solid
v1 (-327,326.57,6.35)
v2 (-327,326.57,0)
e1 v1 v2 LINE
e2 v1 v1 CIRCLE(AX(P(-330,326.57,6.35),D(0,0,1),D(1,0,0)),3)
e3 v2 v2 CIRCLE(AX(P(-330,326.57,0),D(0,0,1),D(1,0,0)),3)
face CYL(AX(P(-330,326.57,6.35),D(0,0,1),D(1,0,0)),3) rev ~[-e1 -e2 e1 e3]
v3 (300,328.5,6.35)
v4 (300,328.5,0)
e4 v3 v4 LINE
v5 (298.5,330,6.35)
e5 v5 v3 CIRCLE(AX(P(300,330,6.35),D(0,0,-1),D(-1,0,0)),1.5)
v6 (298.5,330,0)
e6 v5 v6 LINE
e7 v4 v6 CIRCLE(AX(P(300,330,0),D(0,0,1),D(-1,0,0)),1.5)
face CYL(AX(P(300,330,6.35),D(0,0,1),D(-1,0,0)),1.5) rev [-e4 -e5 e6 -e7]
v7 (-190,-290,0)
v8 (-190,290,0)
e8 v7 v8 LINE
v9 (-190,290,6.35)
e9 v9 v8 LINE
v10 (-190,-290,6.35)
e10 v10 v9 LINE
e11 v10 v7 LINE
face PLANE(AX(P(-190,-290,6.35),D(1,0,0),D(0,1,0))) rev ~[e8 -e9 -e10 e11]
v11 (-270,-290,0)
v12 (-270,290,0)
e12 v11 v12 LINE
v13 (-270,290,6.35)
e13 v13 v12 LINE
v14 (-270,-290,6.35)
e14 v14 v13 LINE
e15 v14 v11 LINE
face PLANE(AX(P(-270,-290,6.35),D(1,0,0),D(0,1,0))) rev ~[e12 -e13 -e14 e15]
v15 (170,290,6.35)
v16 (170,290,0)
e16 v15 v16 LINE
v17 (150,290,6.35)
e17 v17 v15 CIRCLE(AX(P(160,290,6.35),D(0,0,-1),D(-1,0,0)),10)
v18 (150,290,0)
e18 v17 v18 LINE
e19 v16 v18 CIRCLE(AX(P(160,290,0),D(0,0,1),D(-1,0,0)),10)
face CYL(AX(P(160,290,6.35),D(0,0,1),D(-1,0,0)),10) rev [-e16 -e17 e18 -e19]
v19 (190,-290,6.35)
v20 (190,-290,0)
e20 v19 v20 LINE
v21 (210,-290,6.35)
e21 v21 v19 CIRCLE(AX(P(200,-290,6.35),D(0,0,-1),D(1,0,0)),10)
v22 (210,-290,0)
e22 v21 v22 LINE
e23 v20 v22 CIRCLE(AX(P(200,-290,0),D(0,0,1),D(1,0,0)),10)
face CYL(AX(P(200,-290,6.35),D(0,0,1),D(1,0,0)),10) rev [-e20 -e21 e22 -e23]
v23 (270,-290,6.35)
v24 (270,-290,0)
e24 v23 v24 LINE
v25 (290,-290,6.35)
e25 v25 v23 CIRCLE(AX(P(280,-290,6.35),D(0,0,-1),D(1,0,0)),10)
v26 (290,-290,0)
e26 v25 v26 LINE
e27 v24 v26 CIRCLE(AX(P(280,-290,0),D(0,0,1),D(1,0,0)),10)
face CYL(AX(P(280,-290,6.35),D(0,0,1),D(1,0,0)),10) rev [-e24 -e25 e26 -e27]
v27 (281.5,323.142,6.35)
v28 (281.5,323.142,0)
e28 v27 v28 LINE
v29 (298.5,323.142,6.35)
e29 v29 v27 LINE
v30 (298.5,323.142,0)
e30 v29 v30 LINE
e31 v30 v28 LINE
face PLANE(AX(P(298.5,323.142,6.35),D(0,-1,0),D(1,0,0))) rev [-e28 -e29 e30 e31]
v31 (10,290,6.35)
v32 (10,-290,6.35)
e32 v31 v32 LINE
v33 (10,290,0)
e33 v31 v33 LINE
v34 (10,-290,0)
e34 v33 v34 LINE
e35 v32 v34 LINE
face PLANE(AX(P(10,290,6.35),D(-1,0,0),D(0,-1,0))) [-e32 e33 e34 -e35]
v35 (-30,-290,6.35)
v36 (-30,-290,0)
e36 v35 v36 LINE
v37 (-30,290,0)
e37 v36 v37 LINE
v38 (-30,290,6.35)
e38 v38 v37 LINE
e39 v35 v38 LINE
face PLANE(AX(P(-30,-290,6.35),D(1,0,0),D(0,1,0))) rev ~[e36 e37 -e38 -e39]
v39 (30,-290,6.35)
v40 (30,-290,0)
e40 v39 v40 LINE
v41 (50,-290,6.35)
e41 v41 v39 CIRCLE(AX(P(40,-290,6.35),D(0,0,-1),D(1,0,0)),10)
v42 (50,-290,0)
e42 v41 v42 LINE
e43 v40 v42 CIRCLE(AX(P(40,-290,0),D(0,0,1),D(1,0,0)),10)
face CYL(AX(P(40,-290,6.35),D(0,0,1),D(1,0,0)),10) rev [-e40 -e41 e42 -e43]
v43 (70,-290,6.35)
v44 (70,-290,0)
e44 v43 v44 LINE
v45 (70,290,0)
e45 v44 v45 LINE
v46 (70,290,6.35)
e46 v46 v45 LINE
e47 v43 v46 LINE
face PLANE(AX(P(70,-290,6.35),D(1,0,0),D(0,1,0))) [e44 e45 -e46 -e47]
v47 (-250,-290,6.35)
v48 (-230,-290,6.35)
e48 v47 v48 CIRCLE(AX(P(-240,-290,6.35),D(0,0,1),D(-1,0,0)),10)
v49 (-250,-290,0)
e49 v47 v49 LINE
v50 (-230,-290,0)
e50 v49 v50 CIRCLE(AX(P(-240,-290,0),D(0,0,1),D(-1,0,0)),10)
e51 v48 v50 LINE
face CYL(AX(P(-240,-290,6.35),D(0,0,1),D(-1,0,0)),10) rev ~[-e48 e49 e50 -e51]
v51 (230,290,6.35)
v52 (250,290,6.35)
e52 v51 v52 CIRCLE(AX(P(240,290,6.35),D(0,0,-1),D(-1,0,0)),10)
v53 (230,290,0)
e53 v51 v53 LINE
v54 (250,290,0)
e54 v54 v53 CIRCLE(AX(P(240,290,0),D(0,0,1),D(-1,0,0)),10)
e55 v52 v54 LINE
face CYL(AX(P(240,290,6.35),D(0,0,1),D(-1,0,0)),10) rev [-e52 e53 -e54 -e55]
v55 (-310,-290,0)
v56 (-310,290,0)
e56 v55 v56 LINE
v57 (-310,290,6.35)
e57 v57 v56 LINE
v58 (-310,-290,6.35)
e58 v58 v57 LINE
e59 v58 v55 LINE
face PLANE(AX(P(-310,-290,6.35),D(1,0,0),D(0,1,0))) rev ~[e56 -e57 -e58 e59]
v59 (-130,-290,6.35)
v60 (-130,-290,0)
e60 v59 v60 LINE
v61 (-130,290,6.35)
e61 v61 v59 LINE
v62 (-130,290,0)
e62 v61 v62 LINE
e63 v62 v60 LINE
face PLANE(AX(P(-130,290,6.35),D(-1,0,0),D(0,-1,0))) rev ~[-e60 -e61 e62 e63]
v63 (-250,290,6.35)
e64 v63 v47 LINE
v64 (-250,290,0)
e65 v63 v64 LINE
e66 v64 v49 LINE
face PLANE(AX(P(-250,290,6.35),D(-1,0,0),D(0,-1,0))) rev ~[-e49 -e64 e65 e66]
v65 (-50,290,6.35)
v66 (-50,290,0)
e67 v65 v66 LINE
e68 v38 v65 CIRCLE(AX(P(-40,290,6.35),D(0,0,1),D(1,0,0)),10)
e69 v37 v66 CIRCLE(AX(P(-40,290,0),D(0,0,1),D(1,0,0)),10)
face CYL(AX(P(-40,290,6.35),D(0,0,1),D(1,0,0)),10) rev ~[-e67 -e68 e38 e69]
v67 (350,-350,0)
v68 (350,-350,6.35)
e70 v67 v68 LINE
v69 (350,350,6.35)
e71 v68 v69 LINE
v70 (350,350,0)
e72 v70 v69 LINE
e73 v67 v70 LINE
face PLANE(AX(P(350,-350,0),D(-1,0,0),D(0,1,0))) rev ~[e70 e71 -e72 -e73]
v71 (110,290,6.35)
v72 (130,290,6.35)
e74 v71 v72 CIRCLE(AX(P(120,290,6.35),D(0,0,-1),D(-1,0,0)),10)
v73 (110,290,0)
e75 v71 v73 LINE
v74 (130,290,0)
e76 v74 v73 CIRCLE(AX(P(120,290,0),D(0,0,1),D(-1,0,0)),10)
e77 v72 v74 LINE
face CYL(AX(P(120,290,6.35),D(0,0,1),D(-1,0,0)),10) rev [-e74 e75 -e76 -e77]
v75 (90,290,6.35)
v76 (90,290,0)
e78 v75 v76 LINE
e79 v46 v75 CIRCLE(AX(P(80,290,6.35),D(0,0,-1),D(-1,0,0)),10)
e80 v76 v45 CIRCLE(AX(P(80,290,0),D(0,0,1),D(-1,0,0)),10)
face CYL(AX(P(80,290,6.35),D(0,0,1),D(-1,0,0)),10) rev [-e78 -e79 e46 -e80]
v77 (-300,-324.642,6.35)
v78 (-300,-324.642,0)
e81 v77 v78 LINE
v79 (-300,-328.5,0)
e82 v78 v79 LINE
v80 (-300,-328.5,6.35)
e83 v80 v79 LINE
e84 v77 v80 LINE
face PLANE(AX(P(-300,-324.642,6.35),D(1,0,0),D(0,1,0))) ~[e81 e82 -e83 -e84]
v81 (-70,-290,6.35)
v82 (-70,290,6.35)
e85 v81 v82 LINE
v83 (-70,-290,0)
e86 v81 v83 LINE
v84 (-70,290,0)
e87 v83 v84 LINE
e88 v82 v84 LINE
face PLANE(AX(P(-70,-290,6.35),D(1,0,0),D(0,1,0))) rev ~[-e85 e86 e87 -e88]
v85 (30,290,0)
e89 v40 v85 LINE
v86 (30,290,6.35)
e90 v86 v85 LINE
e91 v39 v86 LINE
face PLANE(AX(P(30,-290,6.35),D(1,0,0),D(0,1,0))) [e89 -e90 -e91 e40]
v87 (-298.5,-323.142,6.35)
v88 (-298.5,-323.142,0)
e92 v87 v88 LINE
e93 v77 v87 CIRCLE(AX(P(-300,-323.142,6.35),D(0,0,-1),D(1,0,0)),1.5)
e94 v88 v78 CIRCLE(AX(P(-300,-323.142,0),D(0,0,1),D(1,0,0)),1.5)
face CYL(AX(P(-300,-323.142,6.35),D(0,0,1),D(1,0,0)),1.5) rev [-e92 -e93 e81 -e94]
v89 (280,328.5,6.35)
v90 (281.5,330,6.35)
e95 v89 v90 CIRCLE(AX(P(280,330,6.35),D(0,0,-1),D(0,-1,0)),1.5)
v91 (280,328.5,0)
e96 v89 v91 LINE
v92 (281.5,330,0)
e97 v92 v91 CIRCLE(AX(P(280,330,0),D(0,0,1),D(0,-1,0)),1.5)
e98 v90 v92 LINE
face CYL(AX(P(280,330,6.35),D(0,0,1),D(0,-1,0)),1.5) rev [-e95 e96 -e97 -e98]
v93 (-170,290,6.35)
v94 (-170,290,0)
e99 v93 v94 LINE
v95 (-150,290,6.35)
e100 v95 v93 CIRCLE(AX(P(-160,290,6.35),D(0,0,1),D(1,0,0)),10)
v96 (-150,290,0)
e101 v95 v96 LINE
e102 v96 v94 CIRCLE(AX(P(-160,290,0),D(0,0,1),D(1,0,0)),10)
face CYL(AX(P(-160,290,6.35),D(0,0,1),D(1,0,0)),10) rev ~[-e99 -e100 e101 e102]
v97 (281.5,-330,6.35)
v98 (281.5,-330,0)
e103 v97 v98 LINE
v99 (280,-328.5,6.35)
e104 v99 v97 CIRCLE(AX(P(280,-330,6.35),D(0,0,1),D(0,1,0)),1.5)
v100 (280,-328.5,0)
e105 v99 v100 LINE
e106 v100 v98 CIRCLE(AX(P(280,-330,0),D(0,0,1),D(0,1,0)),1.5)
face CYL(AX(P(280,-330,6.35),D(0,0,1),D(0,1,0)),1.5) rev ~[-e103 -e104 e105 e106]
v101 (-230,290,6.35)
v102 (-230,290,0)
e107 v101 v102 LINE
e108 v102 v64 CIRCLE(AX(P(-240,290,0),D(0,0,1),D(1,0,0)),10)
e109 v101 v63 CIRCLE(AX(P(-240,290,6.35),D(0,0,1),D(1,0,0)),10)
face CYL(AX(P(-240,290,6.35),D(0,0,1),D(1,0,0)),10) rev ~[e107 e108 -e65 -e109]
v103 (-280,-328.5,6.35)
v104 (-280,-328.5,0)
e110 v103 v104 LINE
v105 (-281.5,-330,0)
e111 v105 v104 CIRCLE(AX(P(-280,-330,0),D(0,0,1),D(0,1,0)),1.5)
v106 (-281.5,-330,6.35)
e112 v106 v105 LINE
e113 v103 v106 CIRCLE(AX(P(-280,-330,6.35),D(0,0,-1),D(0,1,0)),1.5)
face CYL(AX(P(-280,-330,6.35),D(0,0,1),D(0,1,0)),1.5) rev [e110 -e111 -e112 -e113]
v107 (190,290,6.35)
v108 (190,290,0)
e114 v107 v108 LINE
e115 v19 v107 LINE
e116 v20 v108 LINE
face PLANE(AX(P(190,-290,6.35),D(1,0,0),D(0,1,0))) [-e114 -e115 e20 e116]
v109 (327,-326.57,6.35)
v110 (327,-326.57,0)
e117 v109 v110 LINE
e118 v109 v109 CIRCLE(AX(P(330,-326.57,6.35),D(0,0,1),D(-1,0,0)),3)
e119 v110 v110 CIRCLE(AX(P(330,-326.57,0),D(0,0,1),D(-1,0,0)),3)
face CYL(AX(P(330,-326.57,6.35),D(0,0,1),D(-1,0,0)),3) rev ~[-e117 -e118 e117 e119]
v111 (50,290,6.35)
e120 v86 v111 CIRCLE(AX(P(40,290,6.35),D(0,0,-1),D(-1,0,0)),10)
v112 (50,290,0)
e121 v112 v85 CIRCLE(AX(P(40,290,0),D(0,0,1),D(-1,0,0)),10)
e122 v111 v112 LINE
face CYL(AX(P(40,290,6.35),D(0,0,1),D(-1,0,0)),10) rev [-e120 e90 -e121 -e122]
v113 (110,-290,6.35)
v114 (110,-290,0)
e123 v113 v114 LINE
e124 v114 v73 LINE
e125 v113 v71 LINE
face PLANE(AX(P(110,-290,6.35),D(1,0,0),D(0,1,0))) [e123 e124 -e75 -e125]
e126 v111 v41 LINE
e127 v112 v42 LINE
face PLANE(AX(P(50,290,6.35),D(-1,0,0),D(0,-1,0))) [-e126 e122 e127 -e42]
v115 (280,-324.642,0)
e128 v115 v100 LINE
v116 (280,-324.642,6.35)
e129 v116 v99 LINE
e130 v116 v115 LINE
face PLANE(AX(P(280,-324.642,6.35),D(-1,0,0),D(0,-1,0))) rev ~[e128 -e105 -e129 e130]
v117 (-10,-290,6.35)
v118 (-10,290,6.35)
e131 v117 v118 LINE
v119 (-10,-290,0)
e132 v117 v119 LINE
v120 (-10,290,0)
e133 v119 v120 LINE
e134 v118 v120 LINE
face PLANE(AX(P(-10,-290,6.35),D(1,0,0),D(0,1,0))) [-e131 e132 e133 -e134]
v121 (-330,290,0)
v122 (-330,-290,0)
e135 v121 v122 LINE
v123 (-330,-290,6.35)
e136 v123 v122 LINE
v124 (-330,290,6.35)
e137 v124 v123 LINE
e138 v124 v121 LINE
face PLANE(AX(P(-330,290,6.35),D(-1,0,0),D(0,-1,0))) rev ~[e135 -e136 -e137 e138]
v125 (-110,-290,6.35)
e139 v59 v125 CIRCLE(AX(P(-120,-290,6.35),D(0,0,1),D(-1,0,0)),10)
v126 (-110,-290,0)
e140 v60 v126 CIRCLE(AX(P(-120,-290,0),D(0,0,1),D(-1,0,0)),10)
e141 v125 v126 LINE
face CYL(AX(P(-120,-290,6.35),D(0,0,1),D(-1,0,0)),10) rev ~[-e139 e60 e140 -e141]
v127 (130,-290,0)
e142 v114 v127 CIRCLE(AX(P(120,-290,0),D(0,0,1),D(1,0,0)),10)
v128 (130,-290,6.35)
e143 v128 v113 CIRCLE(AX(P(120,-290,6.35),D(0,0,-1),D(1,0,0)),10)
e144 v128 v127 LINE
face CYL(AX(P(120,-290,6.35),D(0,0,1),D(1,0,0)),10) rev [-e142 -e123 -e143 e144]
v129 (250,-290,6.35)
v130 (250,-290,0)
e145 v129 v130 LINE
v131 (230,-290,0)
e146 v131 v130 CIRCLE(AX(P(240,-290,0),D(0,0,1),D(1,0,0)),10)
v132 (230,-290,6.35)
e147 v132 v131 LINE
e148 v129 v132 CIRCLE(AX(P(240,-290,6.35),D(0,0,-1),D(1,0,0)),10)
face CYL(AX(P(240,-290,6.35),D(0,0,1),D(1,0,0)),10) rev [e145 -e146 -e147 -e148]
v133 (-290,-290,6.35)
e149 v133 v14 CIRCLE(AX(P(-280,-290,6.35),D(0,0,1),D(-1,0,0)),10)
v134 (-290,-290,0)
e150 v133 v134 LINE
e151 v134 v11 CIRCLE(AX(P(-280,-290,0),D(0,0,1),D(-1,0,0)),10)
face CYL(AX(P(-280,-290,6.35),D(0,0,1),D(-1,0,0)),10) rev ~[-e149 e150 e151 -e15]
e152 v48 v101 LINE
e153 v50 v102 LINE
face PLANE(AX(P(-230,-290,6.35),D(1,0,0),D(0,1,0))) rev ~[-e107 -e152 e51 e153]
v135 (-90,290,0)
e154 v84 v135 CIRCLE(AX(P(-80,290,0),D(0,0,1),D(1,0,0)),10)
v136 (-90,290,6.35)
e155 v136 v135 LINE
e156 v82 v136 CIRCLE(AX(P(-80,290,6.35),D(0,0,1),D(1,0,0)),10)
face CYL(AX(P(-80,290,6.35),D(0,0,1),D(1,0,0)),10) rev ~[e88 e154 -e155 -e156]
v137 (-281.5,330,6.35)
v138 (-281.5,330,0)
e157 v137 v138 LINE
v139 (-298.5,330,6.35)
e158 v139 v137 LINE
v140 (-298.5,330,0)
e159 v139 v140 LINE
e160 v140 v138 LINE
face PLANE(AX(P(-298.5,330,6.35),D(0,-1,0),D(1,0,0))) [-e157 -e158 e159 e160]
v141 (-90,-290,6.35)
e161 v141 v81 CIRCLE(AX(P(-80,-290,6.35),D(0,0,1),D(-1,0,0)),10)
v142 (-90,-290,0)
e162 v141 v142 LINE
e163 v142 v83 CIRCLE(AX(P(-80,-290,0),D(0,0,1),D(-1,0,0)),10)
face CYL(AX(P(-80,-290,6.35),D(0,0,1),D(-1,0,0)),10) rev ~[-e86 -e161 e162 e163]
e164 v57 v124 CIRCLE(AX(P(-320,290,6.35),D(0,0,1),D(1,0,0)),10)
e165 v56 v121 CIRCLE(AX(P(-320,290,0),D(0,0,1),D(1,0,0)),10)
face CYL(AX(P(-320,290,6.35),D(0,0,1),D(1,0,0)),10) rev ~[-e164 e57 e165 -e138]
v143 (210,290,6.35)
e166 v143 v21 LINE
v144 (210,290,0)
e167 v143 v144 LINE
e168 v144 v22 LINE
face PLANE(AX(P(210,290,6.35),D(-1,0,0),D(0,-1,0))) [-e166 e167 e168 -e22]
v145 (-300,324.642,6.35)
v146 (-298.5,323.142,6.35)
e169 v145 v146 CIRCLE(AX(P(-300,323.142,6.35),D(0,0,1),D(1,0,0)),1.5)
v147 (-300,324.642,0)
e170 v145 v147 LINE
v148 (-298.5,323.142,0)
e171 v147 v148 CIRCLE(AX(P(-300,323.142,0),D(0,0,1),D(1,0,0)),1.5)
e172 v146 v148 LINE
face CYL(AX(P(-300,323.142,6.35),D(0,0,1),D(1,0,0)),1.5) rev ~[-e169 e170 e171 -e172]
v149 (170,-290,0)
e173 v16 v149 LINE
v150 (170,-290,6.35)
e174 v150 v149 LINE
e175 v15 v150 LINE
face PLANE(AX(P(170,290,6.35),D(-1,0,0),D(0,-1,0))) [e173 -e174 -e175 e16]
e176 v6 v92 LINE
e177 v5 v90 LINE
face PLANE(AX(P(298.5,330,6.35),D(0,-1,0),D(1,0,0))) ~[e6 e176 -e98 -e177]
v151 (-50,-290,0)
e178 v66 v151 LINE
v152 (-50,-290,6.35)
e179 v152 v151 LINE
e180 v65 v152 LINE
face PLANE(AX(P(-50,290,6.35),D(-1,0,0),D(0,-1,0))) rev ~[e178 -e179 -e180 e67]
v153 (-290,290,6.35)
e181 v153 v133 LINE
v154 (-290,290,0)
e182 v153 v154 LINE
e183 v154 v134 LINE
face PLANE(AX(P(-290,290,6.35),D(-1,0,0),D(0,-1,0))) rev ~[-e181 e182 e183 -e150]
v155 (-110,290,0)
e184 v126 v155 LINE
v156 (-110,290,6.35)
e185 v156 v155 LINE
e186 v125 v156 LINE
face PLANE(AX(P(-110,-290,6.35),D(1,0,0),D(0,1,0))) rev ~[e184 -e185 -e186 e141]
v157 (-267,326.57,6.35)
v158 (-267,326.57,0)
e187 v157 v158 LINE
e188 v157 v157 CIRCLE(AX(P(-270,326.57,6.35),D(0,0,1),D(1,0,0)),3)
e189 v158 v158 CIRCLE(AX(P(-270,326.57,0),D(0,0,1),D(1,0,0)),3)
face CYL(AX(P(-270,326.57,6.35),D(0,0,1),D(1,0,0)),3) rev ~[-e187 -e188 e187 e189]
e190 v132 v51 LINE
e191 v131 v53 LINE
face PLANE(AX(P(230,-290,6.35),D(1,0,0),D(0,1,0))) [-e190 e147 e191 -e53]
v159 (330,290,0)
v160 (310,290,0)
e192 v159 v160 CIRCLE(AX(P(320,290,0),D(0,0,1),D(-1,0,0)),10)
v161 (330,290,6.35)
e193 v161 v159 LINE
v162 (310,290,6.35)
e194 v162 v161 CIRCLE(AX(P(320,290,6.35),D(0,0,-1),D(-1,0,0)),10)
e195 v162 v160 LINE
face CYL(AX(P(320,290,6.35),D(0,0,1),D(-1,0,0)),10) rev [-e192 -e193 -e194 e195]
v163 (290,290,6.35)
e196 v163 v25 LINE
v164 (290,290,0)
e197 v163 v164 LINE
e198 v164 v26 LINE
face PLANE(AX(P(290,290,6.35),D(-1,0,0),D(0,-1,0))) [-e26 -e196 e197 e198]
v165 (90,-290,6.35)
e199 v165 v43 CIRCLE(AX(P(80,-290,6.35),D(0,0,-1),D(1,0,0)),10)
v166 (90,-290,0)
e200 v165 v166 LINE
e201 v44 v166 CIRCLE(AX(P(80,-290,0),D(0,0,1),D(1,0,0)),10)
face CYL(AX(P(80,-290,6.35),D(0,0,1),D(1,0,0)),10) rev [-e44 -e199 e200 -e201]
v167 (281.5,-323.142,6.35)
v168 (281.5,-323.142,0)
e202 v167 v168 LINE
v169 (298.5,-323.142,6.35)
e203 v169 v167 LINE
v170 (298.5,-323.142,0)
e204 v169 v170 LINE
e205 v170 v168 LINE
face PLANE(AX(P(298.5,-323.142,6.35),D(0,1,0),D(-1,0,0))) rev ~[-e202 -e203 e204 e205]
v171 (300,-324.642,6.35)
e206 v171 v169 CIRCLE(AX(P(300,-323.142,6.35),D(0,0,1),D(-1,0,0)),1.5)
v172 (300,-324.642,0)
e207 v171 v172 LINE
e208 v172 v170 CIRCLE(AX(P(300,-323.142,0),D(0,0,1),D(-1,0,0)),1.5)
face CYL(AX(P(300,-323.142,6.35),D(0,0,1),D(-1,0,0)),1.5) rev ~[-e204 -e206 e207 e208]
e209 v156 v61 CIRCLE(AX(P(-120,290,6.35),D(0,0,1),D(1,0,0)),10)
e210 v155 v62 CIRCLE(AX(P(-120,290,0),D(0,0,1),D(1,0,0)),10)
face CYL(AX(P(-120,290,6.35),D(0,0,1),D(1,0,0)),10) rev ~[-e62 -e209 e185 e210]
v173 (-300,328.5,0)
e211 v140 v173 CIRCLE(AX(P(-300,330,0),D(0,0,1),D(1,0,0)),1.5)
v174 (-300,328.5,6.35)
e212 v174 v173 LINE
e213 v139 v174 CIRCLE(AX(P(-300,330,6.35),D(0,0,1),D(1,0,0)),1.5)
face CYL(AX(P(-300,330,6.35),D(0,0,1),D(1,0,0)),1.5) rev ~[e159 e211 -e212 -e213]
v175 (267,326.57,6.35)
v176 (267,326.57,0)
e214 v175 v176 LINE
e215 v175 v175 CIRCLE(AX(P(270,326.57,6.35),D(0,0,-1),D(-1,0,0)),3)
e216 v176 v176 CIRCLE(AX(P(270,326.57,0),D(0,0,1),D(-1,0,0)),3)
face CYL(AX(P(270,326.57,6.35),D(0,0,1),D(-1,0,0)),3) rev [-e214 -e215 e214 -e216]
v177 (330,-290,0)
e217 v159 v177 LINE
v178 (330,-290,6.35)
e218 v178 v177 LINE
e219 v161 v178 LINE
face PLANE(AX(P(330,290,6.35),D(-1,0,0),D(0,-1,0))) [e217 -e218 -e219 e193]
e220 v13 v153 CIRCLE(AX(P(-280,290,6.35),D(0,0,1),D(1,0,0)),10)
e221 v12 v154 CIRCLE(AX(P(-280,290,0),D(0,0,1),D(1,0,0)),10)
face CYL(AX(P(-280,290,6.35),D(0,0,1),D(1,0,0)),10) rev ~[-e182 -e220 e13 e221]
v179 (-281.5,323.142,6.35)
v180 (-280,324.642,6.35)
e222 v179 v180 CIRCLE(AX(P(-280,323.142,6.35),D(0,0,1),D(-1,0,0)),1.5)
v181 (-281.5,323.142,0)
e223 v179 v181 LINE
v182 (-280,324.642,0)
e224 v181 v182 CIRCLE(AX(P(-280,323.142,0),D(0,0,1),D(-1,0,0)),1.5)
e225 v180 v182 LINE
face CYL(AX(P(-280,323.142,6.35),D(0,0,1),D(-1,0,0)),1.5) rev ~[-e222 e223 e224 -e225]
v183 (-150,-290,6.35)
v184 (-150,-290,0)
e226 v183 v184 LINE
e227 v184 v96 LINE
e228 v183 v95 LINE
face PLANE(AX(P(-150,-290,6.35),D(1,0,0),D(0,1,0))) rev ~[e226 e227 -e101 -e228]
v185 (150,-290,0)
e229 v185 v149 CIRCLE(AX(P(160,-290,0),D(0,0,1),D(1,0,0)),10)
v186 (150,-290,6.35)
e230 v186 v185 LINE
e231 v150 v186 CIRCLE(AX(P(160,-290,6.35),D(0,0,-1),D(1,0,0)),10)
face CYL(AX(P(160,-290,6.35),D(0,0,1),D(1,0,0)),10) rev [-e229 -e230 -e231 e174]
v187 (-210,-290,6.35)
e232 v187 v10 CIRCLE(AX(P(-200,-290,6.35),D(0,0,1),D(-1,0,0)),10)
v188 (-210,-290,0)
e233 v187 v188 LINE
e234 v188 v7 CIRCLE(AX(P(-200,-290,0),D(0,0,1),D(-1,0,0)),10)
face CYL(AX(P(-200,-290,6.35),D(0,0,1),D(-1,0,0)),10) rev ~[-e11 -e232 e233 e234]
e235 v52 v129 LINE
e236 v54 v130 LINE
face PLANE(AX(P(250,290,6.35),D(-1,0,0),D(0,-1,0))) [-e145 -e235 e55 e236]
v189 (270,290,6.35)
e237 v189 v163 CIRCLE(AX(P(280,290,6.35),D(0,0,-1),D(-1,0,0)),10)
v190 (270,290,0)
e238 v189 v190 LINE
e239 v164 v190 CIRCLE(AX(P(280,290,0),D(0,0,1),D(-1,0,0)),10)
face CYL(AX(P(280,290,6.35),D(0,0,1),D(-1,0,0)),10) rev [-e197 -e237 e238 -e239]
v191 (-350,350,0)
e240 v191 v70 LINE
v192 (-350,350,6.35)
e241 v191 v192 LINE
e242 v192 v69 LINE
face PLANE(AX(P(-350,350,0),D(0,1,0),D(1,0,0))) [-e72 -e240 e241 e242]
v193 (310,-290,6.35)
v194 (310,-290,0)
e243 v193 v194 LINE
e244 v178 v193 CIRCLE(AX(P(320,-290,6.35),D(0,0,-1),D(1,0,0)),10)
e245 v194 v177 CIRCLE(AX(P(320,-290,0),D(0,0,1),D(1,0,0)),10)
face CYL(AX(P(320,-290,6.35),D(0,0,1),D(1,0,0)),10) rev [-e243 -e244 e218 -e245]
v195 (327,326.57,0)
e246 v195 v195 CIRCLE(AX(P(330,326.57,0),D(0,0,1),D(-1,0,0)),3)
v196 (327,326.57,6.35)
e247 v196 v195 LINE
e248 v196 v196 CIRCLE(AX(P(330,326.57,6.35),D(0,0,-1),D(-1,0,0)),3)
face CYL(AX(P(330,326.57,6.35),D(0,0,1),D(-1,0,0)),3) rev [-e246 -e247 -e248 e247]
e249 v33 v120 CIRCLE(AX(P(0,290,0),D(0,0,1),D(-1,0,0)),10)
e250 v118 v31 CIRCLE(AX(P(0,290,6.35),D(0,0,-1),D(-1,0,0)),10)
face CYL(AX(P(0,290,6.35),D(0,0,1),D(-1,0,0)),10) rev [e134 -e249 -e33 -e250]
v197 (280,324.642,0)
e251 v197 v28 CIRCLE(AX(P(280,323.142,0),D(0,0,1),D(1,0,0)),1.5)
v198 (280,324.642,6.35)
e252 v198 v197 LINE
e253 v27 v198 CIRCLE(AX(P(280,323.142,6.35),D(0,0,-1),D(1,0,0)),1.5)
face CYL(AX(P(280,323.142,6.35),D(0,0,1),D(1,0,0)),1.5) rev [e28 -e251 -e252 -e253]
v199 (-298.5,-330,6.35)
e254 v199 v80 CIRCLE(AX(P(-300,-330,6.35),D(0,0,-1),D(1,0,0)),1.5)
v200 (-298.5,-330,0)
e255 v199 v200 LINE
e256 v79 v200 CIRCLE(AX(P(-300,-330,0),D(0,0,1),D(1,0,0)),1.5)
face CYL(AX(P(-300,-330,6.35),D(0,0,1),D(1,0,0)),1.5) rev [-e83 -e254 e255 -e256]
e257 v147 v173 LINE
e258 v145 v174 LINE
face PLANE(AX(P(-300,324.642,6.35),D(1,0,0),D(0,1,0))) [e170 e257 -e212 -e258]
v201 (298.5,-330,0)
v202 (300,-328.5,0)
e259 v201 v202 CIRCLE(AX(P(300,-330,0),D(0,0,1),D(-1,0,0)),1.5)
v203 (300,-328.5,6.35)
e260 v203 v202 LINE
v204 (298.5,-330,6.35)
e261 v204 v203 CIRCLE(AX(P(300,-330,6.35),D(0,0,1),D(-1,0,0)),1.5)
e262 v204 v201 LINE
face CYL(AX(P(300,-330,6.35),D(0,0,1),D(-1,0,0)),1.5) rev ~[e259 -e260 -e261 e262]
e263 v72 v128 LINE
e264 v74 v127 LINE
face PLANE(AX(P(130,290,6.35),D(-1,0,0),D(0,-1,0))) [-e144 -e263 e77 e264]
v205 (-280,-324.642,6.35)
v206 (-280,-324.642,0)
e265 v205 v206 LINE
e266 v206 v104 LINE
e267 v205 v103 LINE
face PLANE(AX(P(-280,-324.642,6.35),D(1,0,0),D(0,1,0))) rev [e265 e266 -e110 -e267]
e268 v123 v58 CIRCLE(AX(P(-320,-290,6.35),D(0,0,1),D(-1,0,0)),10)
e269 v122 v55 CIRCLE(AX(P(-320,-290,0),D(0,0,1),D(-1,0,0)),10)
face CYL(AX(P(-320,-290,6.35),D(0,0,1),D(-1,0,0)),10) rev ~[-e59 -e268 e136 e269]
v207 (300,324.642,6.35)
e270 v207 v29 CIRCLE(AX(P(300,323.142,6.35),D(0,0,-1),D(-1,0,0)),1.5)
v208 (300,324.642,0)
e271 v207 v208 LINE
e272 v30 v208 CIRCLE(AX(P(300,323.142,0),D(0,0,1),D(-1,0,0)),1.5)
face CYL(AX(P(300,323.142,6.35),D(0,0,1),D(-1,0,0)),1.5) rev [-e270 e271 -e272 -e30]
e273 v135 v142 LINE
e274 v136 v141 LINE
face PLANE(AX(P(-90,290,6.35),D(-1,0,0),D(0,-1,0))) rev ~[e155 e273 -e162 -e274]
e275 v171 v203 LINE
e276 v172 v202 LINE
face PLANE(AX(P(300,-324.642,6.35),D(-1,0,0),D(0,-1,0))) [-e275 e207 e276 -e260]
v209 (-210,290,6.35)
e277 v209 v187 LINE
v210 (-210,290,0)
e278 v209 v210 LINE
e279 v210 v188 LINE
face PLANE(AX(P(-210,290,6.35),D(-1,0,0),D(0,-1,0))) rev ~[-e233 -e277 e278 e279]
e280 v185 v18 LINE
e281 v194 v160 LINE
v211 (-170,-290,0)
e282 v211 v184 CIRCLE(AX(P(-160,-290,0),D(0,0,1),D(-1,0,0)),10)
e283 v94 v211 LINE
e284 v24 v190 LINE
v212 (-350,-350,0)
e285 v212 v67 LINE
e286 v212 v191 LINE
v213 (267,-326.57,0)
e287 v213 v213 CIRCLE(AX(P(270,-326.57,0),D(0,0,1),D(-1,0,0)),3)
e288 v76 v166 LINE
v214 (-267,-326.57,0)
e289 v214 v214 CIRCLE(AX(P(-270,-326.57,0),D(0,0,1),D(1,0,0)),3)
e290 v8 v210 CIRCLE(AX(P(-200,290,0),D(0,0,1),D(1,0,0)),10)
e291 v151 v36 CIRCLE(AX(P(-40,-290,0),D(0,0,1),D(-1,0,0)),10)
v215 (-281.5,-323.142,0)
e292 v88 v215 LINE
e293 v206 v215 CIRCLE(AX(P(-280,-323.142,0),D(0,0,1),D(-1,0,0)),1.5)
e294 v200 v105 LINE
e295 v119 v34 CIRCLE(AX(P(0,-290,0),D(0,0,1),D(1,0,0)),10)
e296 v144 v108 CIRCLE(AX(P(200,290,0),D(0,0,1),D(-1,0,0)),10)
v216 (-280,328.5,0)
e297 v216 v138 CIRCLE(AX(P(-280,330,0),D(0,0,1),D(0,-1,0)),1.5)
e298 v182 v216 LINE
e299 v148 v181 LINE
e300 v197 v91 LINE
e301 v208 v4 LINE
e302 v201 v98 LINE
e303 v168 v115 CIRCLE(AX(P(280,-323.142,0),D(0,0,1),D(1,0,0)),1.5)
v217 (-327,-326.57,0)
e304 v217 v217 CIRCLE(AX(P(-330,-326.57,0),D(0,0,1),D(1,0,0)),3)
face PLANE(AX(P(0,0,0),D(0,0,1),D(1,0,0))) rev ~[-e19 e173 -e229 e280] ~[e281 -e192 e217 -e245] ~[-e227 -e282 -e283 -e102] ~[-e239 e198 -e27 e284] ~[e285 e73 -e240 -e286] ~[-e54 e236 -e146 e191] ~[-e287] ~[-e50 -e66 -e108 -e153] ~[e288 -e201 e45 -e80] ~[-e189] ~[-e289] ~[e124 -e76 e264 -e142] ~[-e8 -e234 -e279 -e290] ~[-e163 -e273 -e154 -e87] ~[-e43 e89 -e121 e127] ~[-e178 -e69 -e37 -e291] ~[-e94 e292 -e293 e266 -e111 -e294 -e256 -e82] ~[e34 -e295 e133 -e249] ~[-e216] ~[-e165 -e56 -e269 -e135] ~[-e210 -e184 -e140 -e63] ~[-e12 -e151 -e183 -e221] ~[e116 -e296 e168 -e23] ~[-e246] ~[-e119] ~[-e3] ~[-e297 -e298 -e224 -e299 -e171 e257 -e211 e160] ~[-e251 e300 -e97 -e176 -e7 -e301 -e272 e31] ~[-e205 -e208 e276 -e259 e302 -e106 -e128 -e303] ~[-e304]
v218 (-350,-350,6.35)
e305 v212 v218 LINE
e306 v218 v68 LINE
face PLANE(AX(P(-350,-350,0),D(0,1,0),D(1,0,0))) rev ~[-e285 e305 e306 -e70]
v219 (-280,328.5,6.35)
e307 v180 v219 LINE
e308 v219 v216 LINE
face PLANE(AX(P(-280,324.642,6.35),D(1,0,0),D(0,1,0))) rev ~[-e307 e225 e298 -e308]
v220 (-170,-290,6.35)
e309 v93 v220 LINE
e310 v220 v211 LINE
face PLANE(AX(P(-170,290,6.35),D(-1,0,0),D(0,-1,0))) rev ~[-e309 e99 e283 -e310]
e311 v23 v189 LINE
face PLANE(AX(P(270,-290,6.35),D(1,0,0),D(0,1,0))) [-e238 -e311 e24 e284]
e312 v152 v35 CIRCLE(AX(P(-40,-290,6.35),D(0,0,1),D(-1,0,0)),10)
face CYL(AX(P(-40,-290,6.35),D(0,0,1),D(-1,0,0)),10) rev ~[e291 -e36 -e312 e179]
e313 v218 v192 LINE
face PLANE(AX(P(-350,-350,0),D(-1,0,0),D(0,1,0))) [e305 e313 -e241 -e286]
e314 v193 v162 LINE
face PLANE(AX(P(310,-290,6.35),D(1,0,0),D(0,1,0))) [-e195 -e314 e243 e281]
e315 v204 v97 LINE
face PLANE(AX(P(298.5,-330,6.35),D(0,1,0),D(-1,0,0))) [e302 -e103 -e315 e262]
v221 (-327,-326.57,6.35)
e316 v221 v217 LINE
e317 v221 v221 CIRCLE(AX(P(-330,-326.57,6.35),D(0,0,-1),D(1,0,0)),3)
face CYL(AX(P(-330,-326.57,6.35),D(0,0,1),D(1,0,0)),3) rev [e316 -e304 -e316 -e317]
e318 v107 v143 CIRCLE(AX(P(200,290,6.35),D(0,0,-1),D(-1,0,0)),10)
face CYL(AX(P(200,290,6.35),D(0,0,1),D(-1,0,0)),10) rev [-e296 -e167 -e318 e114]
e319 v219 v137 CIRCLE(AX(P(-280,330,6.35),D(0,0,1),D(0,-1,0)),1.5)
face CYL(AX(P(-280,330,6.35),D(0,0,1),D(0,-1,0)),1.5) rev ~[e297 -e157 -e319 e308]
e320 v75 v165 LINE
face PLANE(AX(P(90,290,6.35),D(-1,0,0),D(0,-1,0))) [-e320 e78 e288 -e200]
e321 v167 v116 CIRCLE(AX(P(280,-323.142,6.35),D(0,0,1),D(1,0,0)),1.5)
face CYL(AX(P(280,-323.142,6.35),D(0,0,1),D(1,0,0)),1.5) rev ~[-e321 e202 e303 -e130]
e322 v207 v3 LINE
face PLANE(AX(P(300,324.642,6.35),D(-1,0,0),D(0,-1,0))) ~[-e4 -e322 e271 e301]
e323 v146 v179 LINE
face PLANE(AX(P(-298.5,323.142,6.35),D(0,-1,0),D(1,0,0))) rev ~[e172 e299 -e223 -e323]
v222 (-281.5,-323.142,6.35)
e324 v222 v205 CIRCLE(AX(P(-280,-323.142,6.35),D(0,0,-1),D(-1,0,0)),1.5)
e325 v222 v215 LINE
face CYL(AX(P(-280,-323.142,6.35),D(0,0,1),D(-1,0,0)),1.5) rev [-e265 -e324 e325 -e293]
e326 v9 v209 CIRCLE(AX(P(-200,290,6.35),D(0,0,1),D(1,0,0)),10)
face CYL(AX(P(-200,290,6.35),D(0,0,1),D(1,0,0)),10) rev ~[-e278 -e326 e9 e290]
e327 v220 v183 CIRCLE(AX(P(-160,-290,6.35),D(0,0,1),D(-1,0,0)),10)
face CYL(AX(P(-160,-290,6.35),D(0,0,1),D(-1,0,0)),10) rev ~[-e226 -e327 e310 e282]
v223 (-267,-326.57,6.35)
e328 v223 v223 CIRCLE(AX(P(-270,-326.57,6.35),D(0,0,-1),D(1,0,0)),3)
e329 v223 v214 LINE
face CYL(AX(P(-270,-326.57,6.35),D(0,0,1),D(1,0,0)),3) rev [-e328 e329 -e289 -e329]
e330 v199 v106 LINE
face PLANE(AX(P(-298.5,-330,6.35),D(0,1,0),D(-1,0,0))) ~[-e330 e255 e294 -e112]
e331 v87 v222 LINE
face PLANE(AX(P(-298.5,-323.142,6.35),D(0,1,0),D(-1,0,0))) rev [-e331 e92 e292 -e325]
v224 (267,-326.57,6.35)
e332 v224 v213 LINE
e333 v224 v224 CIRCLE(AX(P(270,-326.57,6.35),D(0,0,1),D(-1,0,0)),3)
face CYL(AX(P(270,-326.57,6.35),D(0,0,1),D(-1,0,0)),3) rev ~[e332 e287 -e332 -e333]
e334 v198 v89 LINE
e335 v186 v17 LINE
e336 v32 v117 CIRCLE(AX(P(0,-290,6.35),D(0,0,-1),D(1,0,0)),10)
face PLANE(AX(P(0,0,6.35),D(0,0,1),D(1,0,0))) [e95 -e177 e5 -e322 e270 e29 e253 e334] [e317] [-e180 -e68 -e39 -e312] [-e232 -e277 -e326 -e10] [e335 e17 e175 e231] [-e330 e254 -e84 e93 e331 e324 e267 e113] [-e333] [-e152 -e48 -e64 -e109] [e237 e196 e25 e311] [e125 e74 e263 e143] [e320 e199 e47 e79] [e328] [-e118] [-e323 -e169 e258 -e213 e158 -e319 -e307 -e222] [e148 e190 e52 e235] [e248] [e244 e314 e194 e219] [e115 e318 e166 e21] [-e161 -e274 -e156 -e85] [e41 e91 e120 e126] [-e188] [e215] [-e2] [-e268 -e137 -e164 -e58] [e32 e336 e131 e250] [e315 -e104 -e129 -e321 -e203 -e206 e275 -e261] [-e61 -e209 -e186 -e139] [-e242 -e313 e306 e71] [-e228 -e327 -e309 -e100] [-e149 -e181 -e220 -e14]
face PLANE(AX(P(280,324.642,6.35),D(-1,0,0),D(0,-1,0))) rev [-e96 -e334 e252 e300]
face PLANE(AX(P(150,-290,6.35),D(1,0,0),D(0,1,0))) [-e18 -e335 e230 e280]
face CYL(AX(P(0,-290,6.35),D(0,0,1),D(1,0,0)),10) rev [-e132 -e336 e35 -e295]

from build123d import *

# Parameters (mm, degrees)
SKETCH1_W                 = 700
SKETCH1_H                 = 700
BOSS_EXTRUDE1_DEPTH       = 6.35
SKETCH2_R                 = 1.5
SKETCH2_W                 = 20
SKETCH2_H                 = 6.858
SKETCH2_R_2               = 3
CUT_EXTRUDE1_DEPTH        = 7.35
MIRROR2_COPY_1_SKETCH_R   = 1.5
MIRROR2_COPY_1_SKETCH_W   = 20
MIRROR2_COPY_1_SKETCH_H   = 6.858
MIRROR2_COPY_1_SKETCH_R_2 = 3
MIRROR2_COPY_1_DEPTH      = 7.35
CUT_EXTRUDE2_DEPTH        = 7.35
LPATTERN1_COUNT           = 9
LPATTERN1_PITCH           = 40
MIRROR3_COPY_1_DEPTH      = 7.35
MIRROR3_COPY_2_DEPTH      = 7.35
MIRROR3_COPY_3_DEPTH      = 7.35
MIRROR3_COPY_4_DEPTH      = 7.35
MIRROR3_COPY_5_DEPTH      = 7.35
MIRROR3_COPY_6_DEPTH      = 7.35
MIRROR3_COPY_7_DEPTH      = 7.35
MIRROR3_COPY_8_DEPTH      = 7.35
MIRROR3_COPY_9_DEPTH      = 7.35


with BuildPart() as part:
    # Sketch1 → Boss-Extrude1 (new body)
    with BuildSketch(Plane.XY):
        Rectangle(SKETCH1_W, SKETCH1_H)
    extrude(amount=BOSS_EXTRUDE1_DEPTH)

    # Sketch2 → Cut-Extrude1 (cut, through all)
    with BuildSketch(Plane.XY.offset(6.35)):
        with Locations((-280, 323.142)):
            Circle(SKETCH2_R)
        with Locations((-280, 330)):
            Circle(SKETCH2_R)
        with Locations((-300, 330)):
            Circle(SKETCH2_R)
        with Locations((-300, 323.142)):
            Circle(SKETCH2_R)
        with Locations((-290, 326.571)):
            Rectangle(SKETCH2_W, SKETCH2_H)
        with BuildLine():
            Line((-300, 328.5), (-300, 330))
            Line((-300, 330), (-298.5, 330))
            ThreePointArc((-298.5, 330), (-301.060660172, 331.060660172), (-300, 328.5))
        make_face()
        with BuildLine():
            Line((-298.5, 330), (-300, 330))
            Line((-300, 330), (-300, 328.5))
            ThreePointArc((-300, 328.5), (-298.939339828, 328.939339828), (-298.5, 330))
        make_face()
        with BuildLine():
            ThreePointArc((-298.5, 323.142), (-298.939339828, 324.202660172), (-300, 324.642))
            Line((-300, 324.642), (-300, 323.142))
            Line((-300, 323.142), (-298.5, 323.142))
        make_face()
        with BuildLine():
            Line((-300, 323.142), (-300, 324.642))
            ThreePointArc((-300, 324.642), (-301.060660172, 322.081339828), (-298.5, 323.142))
            Line((-298.5, 323.142), (-300, 323.142))
        make_face()
        with BuildLine():
            ThreePointArc((-278.5, 330), (-280, 331.5), (-281.5, 330))
            Line((-281.5, 330), (-280, 330))
            Line((-280, 330), (-280, 328.5))
            ThreePointArc((-280, 328.5), (-278.939339828, 328.939339828), (-278.5, 330))
        make_face()
        with BuildLine():
            Line((-280, 330), (-281.5, 330))
            ThreePointArc((-281.5, 330), (-281.060660172, 328.939339828), (-280, 328.5))
            Line((-280, 328.5), (-280, 330))
        make_face()
        with BuildLine():
            ThreePointArc((-278.5, 323.142), (-278.939339828, 324.202660172), (-280, 324.642))
            Line((-280, 324.642), (-280, 323.142))
            Line((-280, 323.142), (-281.5, 323.142))
            ThreePointArc((-281.5, 323.142), (-280, 321.642), (-278.5, 323.142))
        make_face()
        with BuildLine():
            Line((-280, 323.142), (-280, 324.642))
            ThreePointArc((-280, 324.642), (-281.060660172, 324.202660172), (-281.5, 323.142))
            Line((-281.5, 323.142), (-280, 323.142))
        make_face()
        with Locations((-330, 326.57)):
            Circle(SKETCH2_R_2)
        with Locations((-270, 326.57)):
            Circle(SKETCH2_R_2)
    cut_extrude1 = extrude(amount=-CUT_EXTRUDE1_DEPTH, mode=Mode.SUBTRACT)

    # Mirror1: Cut-Extrude1 across plane
    add(cut_extrude1.mirror(Plane.ZX), mode=Mode.SUBTRACT)

    # Mirror2: Cut-Extrude1 across plane
    add(cut_extrude1.mirror(Plane(origin=(0, 0, 0), x_dir=(0, 0, 1), z_dir=(1, 0, 0))), mode=Mode.SUBTRACT)

    # Mirror2 copy 1 sketch → Mirror2 copy 1 (cut, through all)
    with BuildSketch(Plane(origin=(0, 0, 6.35), x_dir=(-1, 0, 0), z_dir=(0, 0, 1))):
        with Locations((-280, 323.142)):
            Circle(MIRROR2_COPY_1_SKETCH_R)
        with Locations((-280, 330)):
            Circle(MIRROR2_COPY_1_SKETCH_R)
        with Locations((-300, 330)):
            Circle(MIRROR2_COPY_1_SKETCH_R)
        with Locations((-300, 323.142)):
            Circle(MIRROR2_COPY_1_SKETCH_R)
        with Locations((-290, 326.571)):
            Rectangle(MIRROR2_COPY_1_SKETCH_W, MIRROR2_COPY_1_SKETCH_H)
        with BuildLine():
            Line((-300, 328.5), (-300, 330))
            Line((-300, 330), (-298.5, 330))
            ThreePointArc((-298.5, 330), (-301.060660172, 331.060660172), (-300, 328.5))
        make_face()
        with BuildLine():
            Line((-298.5, 330), (-300, 330))
            Line((-300, 330), (-300, 328.5))
            ThreePointArc((-300, 328.5), (-298.939339828, 328.939339828), (-298.5, 330))
        make_face()
        with BuildLine():
            ThreePointArc((-298.5, 323.142), (-298.939339828, 324.202660172), (-300, 324.642))
            Line((-300, 324.642), (-300, 323.142))
            Line((-300, 323.142), (-298.5, 323.142))
        make_face()
        with BuildLine():
            Line((-300, 323.142), (-300, 324.642))
            ThreePointArc((-300, 324.642), (-301.060660172, 322.081339828), (-298.5, 323.142))
            Line((-298.5, 323.142), (-300, 323.142))
        make_face()
        with BuildLine():
            ThreePointArc((-278.5, 330), (-280, 331.5), (-281.5, 330))
            Line((-281.5, 330), (-280, 330))
            Line((-280, 330), (-280, 328.5))
            ThreePointArc((-280, 328.5), (-278.939339828, 328.939339828), (-278.5, 330))
        make_face()
        with BuildLine():
            Line((-280, 330), (-281.5, 330))
            ThreePointArc((-281.5, 330), (-281.060660172, 328.939339828), (-280, 328.5))
            Line((-280, 328.5), (-280, 330))
        make_face()
        with BuildLine():
            ThreePointArc((-278.5, 323.142), (-278.939339828, 324.202660172), (-280, 324.642))
            Line((-280, 324.642), (-280, 323.142))
            Line((-280, 323.142), (-281.5, 323.142))
            ThreePointArc((-281.5, 323.142), (-280, 321.642), (-278.5, 323.142))
        make_face()
        with BuildLine():
            Line((-280, 323.142), (-280, 324.642))
            ThreePointArc((-280, 324.642), (-281.060660172, 324.202660172), (-281.5, 323.142))
            Line((-281.5, 323.142), (-280, 323.142))
        make_face()
        with Locations((-330, 326.57)):
            Circle(MIRROR2_COPY_1_SKETCH_R_2)
        with Locations((-270, 326.57)):
            Circle(MIRROR2_COPY_1_SKETCH_R_2)
    extrude(amount=-MIRROR2_COPY_1_DEPTH, mode=Mode.SUBTRACT)

    # Sketch3 → Cut-Extrude2 (cut, through all)
    with BuildSketch(Plane.XY.offset(6.35)):
        with BuildLine():
            Line((10, 290), (10, -290))
            ThreePointArc((10, -290), (0, -300), (-10, -290))
            Line((-10, -290), (-10, 290))
            ThreePointArc((-10, 290), (0, 300), (10, 290))
        make_face()
    cut_extrude2 = extrude(amount=-CUT_EXTRUDE2_DEPTH, mode=Mode.SUBTRACT)

    # LPattern1: Cut-Extrude2 ×9
    with Locations(*[(i * LPATTERN1_PITCH, 0, 0) for i in range(1, LPATTERN1_COUNT)]):
        add(cut_extrude2, mode=Mode.SUBTRACT)

    # Mirror3 copy 1 sketch → Mirror3 copy 1 (cut, through all)
    with BuildSketch(Plane(origin=(-40, 0, 6.35), x_dir=(-1, 0, 0), z_dir=(0, 0, 1))):
        with BuildLine():
            Line((10, -290), (10, 290))
            ThreePointArc((10, 290), (0, 300), (-10, 290))
            Line((-10, 290), (-10, -290))
            ThreePointArc((-10, -290), (0, -300), (10, -290))
        make_face()
    extrude(amount=-MIRROR3_COPY_1_DEPTH, mode=Mode.SUBTRACT)

    # Mirror3 copy 2 sketch → Mirror3 copy 2 (cut, through all)
    with BuildSketch(Plane(origin=(-80, 0, 6.35), x_dir=(-1, 0, 0), z_dir=(0, 0, 1))):
        with BuildLine():
            Line((10, -290), (10, 290))
            ThreePointArc((10, 290), (0, 300), (-10, 290))
            Line((-10, 290), (-10, -290))
            ThreePointArc((-10, -290), (0, -300), (10, -290))
        make_face()
    extrude(amount=-MIRROR3_COPY_2_DEPTH, mode=Mode.SUBTRACT)

    # Mirror3 copy 3 sketch → Mirror3 copy 3 (cut, through all)
    with BuildSketch(Plane(origin=(-120, 0, 6.35), x_dir=(-1, 0, 0), z_dir=(0, 0, 1))):
        with BuildLine():
            Line((10, -290), (10, 290))
            ThreePointArc((10, 290), (0, 300), (-10, 290))
            Line((-10, 290), (-10, -290))
            ThreePointArc((-10, -290), (0, -300), (10, -290))
        make_face()
    extrude(amount=-MIRROR3_COPY_3_DEPTH, mode=Mode.SUBTRACT)

    # Mirror3 copy 4 sketch → Mirror3 copy 4 (cut, through all)
    with BuildSketch(Plane(origin=(-160, 0, 6.35), x_dir=(-1, 0, 0), z_dir=(0, 0, 1))):
        with BuildLine():
            Line((10, -290), (10, 290))
            ThreePointArc((10, 290), (0, 300), (-10, 290))
            Line((-10, 290), (-10, -290))
            ThreePointArc((-10, -290), (0, -300), (10, -290))
        make_face()
    extrude(amount=-MIRROR3_COPY_4_DEPTH, mode=Mode.SUBTRACT)

    # Mirror3 copy 5 sketch → Mirror3 copy 5 (cut, through all)
    with BuildSketch(Plane(origin=(-200, 0, 6.35), x_dir=(-1, 0, 0), z_dir=(0, 0, 1))):
        with BuildLine():
            Line((10, -290), (10, 290))
            ThreePointArc((10, 290), (0, 300), (-10, 290))
            Line((-10, 290), (-10, -290))
            ThreePointArc((-10, -290), (0, -300), (10, -290))
        make_face()
    extrude(amount=-MIRROR3_COPY_5_DEPTH, mode=Mode.SUBTRACT)

    # Mirror3 copy 6 sketch → Mirror3 copy 6 (cut, through all)
    with BuildSketch(Plane(origin=(-240, 0, 6.35), x_dir=(-1, 0, 0), z_dir=(0, 0, 1))):
        with BuildLine():
            Line((10, -290), (10, 290))
            ThreePointArc((10, 290), (0, 300), (-10, 290))
            Line((-10, 290), (-10, -290))
            ThreePointArc((-10, -290), (0, -300), (10, -290))
        make_face()
    extrude(amount=-MIRROR3_COPY_6_DEPTH, mode=Mode.SUBTRACT)

    # Mirror3 copy 7 sketch → Mirror3 copy 7 (cut, through all)
    with BuildSketch(Plane(origin=(-280, 0, 6.35), x_dir=(-1, 0, 0), z_dir=(0, 0, 1))):
        with BuildLine():
            Line((10, -290), (10, 290))
            ThreePointArc((10, 290), (0, 300), (-10, 290))
            Line((-10, 290), (-10, -290))
            ThreePointArc((-10, -290), (0, -300), (10, -290))
        make_face()
    extrude(amount=-MIRROR3_COPY_7_DEPTH, mode=Mode.SUBTRACT)

    # Mirror3 copy 8 sketch → Mirror3 copy 8 (cut, through all)
    with BuildSketch(Plane(origin=(-320, 0, 6.35), x_dir=(-1, 0, 0), z_dir=(0, 0, 1))):
        with BuildLine():
            Line((10, -290), (10, 290))
            ThreePointArc((10, 290), (0, 300), (-10, 290))
            Line((-10, 290), (-10, -290))
            ThreePointArc((-10, -290), (0, -300), (10, -290))
        make_face()
    extrude(amount=-MIRROR3_COPY_8_DEPTH, mode=Mode.SUBTRACT)

    # Mirror3 copy 9 sketch → Mirror3 copy 9 (cut, through all)
    with BuildSketch(Plane(origin=(0, 0, 6.35), x_dir=(-1, 0, 0), z_dir=(0, 0, 1))):
        with BuildLine():
            Line((10, -290), (10, 290))
            ThreePointArc((10, 290), (0, 300), (-10, 290))
            Line((-10, 290), (-10, -290))
            ThreePointArc((-10, -290), (0, -300), (10, -290))
        make_face()
    extrude(amount=-MIRROR3_COPY_9_DEPTH, mode=Mode.SUBTRACT)


solid = part.part
